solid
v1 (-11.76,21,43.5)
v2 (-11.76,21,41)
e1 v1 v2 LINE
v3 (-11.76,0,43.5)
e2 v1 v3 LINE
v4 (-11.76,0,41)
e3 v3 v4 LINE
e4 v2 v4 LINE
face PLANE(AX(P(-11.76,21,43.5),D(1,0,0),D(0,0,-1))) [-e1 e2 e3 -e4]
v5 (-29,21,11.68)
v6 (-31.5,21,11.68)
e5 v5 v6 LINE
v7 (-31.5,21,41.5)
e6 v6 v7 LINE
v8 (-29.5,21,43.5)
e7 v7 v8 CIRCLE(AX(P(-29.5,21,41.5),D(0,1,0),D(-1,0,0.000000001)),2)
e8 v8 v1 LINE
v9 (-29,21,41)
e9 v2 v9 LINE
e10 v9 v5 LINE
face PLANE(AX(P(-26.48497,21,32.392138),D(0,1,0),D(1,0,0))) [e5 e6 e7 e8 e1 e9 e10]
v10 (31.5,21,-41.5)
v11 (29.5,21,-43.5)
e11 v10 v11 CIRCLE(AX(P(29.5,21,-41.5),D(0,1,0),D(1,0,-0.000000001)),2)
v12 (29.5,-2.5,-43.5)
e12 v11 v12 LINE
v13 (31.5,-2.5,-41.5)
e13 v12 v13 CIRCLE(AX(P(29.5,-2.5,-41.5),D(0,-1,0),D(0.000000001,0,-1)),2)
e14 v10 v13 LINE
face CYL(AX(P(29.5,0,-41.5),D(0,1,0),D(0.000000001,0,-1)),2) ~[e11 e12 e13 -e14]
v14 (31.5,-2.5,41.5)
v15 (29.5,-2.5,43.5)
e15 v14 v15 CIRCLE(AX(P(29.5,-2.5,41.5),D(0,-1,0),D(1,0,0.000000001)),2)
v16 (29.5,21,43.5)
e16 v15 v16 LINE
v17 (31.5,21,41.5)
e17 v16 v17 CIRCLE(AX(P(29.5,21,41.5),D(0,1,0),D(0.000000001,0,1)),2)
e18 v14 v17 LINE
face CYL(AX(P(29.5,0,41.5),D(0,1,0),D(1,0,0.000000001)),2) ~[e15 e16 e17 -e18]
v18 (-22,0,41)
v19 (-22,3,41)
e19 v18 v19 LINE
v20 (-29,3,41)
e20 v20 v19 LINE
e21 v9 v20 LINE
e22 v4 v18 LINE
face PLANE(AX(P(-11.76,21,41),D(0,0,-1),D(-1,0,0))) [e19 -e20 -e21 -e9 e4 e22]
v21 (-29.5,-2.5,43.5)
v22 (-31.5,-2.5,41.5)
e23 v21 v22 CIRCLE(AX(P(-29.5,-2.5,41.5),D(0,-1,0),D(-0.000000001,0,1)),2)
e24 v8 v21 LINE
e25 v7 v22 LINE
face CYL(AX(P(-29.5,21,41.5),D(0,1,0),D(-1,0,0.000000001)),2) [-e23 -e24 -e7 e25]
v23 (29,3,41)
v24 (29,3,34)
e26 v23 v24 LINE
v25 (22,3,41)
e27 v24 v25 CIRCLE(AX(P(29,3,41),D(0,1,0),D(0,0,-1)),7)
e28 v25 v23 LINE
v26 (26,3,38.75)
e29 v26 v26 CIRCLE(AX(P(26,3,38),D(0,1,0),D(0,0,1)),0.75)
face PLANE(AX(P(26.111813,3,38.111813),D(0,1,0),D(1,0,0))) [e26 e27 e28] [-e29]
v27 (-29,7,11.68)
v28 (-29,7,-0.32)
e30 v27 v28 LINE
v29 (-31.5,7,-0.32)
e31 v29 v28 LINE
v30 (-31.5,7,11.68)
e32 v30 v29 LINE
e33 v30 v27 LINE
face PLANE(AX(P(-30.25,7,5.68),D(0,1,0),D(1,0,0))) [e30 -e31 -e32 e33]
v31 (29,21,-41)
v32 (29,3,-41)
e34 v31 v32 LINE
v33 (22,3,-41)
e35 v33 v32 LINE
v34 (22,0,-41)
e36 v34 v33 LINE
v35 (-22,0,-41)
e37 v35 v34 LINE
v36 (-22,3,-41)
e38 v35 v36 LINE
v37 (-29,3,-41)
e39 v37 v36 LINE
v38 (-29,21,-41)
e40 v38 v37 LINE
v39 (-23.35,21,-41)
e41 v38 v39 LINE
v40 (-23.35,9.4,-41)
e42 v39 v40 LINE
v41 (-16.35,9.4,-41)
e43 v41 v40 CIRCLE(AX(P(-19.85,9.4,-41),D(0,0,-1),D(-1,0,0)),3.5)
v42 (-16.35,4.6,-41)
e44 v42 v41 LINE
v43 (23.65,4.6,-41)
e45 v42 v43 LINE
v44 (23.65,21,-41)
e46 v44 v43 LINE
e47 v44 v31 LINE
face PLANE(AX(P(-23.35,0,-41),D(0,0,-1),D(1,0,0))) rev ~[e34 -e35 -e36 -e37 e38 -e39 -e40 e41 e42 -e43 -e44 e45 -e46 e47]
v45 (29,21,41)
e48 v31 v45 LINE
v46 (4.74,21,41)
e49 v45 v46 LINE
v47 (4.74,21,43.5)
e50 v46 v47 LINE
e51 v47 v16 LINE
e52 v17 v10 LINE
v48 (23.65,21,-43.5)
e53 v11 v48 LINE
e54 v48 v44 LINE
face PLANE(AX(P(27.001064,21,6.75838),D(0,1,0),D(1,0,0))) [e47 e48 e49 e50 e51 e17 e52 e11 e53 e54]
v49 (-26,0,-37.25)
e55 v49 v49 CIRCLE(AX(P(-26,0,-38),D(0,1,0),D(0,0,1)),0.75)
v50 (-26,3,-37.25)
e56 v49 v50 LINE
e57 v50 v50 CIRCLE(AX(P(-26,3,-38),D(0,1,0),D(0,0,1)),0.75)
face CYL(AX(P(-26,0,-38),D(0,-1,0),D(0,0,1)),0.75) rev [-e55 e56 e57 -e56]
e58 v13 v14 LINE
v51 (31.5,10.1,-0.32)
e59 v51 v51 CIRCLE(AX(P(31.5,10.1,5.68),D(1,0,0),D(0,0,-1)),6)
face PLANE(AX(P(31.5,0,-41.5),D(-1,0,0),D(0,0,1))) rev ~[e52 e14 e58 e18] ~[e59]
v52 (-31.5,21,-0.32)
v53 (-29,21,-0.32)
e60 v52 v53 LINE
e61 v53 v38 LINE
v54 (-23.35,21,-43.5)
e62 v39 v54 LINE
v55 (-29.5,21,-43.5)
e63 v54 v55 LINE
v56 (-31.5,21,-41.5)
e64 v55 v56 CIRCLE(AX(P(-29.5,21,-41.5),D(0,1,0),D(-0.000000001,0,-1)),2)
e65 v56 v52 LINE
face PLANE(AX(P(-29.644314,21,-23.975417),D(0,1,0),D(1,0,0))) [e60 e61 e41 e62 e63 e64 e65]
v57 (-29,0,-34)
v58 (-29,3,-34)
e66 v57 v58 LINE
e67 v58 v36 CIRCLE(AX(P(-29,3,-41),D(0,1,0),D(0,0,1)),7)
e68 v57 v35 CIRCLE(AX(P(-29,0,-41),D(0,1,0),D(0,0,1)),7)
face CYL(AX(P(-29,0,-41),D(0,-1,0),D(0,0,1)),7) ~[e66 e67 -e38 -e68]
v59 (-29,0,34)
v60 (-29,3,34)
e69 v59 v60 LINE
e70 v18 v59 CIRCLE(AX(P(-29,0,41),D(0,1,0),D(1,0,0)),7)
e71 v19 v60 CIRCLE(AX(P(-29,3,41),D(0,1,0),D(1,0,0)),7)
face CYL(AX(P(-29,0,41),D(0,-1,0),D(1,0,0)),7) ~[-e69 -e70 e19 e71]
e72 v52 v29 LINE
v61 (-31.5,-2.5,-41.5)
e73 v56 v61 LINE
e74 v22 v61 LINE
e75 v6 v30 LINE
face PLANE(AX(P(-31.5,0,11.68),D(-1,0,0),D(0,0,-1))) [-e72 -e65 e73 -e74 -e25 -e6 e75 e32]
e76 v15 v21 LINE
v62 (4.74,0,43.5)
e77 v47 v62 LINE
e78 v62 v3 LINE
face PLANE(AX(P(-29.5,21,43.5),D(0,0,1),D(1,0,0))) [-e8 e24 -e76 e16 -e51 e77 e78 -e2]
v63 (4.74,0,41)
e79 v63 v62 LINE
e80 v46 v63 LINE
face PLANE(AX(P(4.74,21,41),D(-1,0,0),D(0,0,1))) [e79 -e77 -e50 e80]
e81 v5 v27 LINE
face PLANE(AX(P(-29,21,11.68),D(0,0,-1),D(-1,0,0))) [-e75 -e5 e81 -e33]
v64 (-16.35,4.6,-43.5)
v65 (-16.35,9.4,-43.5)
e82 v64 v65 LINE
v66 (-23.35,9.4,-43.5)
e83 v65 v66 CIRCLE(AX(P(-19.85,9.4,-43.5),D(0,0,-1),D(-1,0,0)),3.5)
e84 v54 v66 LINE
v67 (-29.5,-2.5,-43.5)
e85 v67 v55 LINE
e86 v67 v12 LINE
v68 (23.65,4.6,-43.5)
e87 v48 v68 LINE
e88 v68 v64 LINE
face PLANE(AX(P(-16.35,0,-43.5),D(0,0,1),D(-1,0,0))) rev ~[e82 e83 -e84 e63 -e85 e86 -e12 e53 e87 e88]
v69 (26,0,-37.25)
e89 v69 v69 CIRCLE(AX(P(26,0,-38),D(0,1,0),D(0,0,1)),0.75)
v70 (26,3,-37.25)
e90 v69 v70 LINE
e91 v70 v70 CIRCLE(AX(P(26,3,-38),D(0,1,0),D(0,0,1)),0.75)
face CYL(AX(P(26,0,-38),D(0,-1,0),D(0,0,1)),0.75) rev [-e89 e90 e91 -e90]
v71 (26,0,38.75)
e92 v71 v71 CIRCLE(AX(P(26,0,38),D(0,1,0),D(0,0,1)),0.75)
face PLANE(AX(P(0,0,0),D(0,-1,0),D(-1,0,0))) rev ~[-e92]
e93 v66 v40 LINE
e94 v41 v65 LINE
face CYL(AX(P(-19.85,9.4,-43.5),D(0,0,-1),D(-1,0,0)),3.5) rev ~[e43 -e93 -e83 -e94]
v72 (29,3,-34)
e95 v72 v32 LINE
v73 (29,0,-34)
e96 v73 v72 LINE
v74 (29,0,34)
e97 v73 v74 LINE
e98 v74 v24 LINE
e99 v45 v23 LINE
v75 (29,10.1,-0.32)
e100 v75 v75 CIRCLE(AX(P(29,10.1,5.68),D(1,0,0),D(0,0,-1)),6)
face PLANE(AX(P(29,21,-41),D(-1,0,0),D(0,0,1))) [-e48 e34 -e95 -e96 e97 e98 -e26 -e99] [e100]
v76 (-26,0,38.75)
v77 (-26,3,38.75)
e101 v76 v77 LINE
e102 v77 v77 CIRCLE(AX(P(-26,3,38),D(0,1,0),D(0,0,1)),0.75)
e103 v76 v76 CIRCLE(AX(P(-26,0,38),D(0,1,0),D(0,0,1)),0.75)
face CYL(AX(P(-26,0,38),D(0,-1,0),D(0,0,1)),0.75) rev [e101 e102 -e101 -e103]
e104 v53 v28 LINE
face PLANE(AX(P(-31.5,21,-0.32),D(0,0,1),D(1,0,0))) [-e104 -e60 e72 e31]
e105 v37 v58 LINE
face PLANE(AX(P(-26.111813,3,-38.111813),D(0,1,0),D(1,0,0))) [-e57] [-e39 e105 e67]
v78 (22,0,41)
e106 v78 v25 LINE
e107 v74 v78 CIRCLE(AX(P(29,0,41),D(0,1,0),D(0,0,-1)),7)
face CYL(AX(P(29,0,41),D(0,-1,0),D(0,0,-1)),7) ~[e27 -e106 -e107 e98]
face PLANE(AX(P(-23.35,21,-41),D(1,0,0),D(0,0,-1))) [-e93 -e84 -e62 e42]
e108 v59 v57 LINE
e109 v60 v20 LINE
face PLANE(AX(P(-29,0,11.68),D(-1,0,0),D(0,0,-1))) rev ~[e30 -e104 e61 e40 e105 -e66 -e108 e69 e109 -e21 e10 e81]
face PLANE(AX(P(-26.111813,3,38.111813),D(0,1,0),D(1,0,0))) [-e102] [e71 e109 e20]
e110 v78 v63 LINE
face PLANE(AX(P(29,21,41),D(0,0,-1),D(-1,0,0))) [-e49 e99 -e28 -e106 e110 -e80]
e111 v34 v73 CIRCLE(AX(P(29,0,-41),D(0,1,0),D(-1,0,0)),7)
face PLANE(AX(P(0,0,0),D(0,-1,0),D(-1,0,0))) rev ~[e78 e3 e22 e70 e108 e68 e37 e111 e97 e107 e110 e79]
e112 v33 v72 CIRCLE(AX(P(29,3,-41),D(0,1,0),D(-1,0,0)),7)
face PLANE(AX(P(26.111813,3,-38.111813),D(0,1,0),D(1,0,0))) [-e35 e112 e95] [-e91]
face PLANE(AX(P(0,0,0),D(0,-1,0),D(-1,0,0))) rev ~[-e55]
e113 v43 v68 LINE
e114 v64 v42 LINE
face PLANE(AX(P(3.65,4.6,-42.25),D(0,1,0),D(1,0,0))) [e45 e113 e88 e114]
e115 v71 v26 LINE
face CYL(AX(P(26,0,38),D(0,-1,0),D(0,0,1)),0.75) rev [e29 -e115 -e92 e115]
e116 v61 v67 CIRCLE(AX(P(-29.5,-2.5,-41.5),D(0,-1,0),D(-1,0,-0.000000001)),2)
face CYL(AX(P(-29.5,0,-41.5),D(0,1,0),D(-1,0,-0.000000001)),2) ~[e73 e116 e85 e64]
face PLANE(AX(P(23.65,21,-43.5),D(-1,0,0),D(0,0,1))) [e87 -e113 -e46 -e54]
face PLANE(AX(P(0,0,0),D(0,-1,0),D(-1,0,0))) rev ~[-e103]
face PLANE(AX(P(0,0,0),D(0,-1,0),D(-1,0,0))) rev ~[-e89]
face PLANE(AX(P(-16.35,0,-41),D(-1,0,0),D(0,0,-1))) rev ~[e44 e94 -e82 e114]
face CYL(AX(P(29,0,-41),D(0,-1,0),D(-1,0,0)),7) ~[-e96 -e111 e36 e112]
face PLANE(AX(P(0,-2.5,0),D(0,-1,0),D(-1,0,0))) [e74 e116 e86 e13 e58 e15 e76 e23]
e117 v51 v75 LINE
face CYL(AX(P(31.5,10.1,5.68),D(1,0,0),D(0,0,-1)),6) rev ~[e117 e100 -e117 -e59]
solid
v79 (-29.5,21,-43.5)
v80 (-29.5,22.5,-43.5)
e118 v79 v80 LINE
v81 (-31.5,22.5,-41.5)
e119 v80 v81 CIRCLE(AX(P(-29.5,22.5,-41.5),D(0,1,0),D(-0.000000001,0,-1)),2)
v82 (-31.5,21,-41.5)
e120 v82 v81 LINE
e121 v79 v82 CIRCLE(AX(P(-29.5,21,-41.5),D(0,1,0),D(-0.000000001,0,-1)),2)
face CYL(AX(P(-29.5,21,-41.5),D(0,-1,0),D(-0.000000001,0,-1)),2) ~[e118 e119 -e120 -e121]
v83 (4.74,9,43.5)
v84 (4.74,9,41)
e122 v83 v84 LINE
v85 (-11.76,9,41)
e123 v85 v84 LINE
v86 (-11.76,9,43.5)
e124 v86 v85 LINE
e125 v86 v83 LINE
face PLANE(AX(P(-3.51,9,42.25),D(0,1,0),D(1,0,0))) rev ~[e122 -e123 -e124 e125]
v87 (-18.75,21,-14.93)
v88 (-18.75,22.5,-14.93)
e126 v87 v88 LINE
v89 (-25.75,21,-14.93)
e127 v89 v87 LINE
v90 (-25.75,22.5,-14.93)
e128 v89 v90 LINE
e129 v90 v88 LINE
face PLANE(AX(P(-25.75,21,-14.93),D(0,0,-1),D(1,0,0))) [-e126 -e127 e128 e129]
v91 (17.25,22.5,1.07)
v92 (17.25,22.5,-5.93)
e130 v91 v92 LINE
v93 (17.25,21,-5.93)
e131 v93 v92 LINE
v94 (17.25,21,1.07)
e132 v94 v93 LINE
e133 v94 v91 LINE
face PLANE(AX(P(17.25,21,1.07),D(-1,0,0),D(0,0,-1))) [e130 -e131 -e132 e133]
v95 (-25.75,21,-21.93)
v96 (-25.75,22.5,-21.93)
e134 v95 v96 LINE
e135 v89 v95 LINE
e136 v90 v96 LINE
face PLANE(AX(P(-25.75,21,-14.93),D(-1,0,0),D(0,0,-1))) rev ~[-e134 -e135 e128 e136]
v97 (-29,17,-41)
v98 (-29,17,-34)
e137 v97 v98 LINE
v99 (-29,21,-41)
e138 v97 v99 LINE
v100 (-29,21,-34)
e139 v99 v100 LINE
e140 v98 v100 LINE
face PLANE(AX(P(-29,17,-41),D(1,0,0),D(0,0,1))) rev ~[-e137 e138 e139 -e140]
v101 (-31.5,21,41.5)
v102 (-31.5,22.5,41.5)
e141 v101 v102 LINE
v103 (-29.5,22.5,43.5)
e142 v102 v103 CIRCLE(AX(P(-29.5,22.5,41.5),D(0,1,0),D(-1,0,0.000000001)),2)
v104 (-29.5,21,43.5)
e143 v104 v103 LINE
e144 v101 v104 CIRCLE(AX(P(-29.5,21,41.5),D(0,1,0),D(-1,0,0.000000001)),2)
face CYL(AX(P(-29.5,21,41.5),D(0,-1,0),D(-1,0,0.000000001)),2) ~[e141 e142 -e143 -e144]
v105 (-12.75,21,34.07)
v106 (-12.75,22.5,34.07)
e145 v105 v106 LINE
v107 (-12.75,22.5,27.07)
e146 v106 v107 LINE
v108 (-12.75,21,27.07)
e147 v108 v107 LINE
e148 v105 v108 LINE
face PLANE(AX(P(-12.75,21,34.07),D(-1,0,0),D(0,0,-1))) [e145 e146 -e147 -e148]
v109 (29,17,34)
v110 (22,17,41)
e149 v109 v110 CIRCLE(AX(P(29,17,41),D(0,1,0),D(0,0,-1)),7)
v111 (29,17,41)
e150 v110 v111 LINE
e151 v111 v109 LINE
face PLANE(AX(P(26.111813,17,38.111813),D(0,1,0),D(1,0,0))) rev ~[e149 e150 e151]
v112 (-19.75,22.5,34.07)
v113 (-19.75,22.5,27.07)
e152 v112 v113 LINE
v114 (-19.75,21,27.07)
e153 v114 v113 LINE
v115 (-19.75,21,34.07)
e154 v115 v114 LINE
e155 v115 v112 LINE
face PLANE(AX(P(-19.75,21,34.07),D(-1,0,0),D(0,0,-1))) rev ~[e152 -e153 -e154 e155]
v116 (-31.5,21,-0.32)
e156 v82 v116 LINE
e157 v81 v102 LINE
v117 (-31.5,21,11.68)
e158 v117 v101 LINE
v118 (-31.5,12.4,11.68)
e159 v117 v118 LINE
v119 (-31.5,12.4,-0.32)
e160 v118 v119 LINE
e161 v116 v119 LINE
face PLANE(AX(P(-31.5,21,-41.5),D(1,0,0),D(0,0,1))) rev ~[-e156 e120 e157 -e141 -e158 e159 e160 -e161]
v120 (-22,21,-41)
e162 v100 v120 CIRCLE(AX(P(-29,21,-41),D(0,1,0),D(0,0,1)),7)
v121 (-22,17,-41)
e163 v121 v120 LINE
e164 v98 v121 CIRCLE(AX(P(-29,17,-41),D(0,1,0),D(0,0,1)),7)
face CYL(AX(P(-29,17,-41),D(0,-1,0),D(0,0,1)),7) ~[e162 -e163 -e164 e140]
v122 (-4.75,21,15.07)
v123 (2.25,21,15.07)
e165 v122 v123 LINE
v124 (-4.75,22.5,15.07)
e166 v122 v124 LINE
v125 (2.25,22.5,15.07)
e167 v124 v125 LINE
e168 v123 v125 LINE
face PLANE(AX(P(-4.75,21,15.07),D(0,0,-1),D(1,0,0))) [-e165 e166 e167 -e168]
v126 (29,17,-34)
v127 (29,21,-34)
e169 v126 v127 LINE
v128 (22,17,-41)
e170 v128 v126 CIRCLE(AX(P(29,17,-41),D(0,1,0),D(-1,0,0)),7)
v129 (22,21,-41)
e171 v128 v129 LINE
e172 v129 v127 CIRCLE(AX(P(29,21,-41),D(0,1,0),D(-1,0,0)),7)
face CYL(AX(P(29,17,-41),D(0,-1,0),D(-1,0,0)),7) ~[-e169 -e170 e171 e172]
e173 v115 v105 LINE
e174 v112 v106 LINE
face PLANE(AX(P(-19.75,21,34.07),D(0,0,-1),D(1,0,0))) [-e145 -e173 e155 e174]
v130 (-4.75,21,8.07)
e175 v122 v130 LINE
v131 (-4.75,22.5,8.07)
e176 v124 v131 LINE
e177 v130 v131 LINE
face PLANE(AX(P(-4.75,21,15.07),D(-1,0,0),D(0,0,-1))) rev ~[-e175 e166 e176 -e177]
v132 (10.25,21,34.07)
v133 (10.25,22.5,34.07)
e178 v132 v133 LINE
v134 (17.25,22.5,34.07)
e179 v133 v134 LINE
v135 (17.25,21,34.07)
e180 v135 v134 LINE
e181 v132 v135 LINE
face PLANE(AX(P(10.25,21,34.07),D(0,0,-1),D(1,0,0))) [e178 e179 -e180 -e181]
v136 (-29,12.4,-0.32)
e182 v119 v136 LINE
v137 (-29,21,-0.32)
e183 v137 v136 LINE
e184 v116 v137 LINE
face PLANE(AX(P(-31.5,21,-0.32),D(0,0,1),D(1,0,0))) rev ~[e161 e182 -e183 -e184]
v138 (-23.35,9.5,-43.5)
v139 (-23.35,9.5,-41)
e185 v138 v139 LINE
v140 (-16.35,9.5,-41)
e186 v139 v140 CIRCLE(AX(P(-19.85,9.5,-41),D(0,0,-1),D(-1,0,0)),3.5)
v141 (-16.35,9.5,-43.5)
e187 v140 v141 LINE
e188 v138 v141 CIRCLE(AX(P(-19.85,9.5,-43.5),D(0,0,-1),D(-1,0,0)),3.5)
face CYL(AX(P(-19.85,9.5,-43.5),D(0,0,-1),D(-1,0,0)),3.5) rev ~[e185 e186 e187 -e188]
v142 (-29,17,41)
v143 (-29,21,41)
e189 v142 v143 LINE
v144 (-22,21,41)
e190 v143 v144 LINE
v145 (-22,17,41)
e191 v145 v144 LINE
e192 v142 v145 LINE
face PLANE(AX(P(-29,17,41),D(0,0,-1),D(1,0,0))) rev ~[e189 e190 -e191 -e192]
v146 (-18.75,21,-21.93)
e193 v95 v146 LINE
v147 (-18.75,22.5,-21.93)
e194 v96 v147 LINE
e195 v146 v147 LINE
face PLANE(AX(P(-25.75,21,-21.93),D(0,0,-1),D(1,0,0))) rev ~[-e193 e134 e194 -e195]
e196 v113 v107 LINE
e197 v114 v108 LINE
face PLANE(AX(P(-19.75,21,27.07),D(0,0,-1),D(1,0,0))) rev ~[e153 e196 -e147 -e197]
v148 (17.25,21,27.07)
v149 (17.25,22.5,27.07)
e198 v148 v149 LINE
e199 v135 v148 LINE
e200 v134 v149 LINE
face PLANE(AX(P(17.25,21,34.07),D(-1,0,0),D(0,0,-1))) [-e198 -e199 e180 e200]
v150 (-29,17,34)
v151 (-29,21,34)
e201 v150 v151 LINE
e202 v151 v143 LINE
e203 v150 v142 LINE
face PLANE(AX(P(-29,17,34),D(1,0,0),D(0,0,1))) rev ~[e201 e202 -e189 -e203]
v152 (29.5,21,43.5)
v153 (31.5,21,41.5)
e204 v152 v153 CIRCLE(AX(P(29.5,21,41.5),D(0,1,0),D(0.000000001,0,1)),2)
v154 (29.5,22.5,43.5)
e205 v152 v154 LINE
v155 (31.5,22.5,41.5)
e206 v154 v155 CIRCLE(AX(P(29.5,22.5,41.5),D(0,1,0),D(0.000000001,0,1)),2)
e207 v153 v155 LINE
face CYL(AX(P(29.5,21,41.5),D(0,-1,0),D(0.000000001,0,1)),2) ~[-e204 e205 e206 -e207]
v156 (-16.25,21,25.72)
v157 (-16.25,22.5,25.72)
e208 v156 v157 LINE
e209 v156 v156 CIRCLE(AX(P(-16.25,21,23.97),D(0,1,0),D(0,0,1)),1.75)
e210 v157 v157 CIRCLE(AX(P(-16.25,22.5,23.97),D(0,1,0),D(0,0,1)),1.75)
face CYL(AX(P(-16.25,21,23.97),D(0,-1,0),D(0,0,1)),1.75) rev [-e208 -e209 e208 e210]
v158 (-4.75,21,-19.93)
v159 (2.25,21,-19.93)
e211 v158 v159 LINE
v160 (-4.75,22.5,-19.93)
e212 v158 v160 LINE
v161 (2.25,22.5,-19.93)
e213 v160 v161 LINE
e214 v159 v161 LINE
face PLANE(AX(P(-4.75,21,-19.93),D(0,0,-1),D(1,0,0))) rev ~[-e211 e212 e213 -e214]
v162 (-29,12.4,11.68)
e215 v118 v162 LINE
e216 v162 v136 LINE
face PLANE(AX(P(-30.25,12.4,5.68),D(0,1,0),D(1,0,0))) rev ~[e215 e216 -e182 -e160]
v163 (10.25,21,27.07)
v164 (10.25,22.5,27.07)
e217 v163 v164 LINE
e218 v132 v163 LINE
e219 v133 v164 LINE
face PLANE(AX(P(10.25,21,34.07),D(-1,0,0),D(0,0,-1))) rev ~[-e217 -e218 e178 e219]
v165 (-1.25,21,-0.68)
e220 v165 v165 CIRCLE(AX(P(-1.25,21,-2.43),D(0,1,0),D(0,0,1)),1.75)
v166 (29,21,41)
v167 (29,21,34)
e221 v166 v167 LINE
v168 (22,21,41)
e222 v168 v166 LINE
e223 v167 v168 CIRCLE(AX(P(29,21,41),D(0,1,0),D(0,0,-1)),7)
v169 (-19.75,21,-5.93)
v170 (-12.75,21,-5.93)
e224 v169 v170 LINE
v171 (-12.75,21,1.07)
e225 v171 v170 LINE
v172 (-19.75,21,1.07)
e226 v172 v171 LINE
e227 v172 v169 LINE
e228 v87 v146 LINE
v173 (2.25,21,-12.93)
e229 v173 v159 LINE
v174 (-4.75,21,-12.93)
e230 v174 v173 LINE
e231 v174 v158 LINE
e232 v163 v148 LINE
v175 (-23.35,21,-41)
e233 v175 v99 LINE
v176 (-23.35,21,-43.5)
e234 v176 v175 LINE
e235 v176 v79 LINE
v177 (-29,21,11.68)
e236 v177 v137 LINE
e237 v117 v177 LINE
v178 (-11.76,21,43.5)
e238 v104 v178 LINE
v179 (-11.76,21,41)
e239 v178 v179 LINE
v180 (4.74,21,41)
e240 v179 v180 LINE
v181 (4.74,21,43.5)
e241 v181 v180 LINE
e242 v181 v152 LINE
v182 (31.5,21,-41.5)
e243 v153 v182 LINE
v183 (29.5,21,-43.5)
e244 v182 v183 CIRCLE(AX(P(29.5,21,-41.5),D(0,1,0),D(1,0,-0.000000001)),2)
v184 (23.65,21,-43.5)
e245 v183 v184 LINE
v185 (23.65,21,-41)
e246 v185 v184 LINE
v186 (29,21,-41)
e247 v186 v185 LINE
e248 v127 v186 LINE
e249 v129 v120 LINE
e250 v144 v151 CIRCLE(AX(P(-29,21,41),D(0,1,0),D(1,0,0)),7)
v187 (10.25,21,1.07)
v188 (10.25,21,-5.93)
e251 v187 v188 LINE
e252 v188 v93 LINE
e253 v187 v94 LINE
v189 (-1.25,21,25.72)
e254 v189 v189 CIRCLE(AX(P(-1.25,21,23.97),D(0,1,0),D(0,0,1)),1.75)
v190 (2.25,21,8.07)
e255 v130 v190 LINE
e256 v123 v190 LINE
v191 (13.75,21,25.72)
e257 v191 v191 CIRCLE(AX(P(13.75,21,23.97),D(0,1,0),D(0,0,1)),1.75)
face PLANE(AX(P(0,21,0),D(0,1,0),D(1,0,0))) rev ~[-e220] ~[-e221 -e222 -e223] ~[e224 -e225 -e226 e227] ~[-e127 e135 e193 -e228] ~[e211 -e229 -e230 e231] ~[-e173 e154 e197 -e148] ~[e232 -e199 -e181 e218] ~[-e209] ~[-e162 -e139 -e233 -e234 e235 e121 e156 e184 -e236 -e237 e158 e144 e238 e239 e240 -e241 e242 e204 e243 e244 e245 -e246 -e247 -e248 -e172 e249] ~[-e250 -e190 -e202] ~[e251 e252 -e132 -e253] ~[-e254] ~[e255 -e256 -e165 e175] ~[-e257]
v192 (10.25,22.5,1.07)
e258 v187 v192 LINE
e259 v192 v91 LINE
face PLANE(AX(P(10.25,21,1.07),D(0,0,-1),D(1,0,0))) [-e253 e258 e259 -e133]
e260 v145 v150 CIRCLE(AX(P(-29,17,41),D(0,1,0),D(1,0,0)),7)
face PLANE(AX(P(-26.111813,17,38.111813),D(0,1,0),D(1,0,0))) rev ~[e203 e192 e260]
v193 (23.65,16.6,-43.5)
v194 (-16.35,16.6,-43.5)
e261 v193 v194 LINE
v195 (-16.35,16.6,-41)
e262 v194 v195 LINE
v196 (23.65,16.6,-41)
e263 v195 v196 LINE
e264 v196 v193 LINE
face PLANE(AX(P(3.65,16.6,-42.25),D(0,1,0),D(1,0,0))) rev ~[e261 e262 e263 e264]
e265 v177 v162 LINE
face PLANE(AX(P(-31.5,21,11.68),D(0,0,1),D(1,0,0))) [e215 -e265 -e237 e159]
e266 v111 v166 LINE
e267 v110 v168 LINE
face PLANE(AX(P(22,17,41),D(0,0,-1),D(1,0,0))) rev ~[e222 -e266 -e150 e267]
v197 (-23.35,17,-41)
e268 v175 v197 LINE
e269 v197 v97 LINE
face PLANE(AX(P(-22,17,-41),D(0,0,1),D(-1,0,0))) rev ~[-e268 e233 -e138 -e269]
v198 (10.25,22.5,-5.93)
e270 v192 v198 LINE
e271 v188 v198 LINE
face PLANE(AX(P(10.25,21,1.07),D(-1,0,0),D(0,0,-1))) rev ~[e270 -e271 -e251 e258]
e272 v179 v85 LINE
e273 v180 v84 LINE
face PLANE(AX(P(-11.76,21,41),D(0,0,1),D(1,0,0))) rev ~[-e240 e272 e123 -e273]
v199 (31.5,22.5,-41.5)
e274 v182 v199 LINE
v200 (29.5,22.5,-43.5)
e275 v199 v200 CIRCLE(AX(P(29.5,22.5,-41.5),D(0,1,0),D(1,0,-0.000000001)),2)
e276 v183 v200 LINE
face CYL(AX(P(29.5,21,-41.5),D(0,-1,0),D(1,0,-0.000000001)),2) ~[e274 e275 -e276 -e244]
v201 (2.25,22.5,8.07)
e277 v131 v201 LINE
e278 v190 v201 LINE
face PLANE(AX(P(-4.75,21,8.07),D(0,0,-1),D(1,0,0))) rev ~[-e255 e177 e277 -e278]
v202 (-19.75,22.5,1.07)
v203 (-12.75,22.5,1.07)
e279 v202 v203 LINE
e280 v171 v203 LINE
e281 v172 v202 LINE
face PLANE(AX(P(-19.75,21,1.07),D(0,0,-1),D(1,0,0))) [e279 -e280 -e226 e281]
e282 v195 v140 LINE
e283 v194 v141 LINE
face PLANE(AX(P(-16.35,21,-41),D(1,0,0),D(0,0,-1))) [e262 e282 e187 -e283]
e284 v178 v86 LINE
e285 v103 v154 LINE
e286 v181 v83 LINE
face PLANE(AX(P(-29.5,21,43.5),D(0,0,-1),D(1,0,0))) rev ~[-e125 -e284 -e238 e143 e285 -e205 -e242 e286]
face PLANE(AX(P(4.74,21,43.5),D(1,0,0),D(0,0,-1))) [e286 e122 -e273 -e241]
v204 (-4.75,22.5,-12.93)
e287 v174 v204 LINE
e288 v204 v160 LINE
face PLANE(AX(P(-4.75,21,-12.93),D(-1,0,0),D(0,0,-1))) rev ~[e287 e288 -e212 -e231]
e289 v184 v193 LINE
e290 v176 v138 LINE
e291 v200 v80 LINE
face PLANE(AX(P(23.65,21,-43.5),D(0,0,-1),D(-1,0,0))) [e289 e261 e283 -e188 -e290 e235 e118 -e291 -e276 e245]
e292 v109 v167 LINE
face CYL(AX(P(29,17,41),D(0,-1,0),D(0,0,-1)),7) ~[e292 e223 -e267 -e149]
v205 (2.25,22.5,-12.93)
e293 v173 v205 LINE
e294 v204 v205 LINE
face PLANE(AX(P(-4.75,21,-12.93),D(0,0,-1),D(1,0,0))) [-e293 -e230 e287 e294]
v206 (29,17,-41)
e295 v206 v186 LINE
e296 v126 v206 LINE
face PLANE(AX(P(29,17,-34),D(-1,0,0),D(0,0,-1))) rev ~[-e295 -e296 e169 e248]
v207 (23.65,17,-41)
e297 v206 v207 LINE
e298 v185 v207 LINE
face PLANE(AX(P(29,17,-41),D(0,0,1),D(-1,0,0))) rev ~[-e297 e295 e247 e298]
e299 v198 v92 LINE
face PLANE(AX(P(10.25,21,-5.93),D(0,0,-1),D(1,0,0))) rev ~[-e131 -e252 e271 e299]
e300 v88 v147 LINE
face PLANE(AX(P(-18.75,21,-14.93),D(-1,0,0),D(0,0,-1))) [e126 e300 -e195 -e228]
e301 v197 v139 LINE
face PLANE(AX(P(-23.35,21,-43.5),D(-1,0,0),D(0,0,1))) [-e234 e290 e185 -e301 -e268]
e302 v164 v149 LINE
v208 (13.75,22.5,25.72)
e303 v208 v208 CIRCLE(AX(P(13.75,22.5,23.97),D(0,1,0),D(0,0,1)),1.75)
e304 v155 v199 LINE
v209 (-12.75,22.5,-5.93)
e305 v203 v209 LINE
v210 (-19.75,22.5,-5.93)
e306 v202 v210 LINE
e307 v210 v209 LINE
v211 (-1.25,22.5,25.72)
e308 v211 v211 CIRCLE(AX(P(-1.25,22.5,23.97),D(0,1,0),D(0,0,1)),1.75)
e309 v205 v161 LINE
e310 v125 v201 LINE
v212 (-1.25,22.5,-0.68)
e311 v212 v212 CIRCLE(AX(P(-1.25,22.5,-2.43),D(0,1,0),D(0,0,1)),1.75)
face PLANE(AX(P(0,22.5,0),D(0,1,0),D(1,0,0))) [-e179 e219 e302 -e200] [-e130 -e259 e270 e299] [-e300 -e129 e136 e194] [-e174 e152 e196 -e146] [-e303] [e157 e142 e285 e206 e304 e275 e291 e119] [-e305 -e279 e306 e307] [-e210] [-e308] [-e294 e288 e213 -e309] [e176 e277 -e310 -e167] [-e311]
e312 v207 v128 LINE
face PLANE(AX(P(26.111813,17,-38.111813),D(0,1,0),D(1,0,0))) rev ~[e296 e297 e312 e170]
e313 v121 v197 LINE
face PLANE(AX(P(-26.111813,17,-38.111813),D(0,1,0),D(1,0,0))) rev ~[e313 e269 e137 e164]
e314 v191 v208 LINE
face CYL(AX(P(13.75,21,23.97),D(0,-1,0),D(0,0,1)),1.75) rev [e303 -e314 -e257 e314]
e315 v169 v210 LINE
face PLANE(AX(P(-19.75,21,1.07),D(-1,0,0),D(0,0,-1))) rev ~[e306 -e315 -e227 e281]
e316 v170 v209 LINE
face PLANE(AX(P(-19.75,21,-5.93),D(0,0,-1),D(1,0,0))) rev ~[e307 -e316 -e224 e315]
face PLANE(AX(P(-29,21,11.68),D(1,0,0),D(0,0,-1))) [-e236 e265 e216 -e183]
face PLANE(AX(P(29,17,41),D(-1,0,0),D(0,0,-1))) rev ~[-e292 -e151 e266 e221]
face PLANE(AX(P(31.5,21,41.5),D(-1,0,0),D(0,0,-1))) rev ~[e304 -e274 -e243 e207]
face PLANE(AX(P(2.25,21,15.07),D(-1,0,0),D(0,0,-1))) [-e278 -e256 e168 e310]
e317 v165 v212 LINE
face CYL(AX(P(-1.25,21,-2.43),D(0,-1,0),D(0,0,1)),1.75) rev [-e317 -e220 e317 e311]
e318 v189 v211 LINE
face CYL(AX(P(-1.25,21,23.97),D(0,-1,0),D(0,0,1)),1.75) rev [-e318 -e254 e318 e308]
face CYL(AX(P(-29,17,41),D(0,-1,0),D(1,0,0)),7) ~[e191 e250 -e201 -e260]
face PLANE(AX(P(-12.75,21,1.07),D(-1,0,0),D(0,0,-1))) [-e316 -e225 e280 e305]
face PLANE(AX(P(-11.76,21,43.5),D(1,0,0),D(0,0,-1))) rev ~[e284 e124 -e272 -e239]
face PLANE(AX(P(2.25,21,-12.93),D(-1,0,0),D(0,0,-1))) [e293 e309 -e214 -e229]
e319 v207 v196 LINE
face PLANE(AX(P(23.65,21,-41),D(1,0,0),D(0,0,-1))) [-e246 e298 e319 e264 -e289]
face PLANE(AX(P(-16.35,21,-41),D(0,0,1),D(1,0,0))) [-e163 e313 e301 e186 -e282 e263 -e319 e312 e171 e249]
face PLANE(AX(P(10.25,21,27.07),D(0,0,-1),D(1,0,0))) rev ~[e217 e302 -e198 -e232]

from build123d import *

# Parameters (mm, degrees)
EXTRUDE_1_DEPTH     = 2.5
SKETCH_1_4_R        = 0.75
EXTRUDE_2_DEPTH     = 3
EXTRUDE_4_DEPTH     = 4.6
EXTRUDE_START       = 21
EXTRUDE_5_DEPTH     = 21
EXTRUDE_6_DEPTH     = 9.4
CUT_EXTRUDE_1_REACH = 96.88
SKETCH_2_R          = 3.5
CUT_EXTRUDE_2_REACH = 81.387
SKETCH_3_R          = 6
SKETCH_1_8_W        = 2.5
SKETCH_1_8_H        = 12
EXTRUDE_11_DEPTH    = 7
SKETCH_4_W          = 7
SKETCH_4_H          = 7
SKETCH_4_R          = 1.75
EXTRUDE_7_DEPTH     = 1.5
SKETCH_4_4_W        = 16.5
SKETCH_4_4_H        = 2.5
EXTRUDE_8_DEPTH     = 12
EXTRUDE_9_DEPTH     = 11.5
SKETCH_5_R          = 3.5
CUT_EXTRUDE_3_DEPTH = 2.5
EXTRUDE_10_DEPTH    = 4.4
SKETCH_4_7_W        = 2.5
SKETCH_4_7_H        = 12
EXTRUDE_12_DEPTH    = 8.6
EXTRUDE_START_2     = -4
SKETCH_4_8_R        = 0.75
EXTRUDE_13_DEPTH    = 4


with BuildPart() as part:
    # 草图1 → 凸台-拉伸1 (new body)
    with BuildSketch(Plane(origin=(0, 0, 0), x_dir=(1, 0, 0), z_dir=(0, 1, 0))):
        with BuildLine():
            Line((-29.5, 43.5), (29.5, 43.5))
            ThreePointArc((29.5, 43.5), (30.914213562, 42.914213562), (31.5, 41.5))
            Line((31.5, 41.5), (31.5, -41.5))
            ThreePointArc((31.5, -41.5), (30.914213562, -42.914213562), (29.5, -43.5))
            Line((29.5, -43.5), (-29.5, -43.5))
            ThreePointArc((-29.5, -43.5), (-30.914213562, -42.914213562), (-31.5, -41.5))
            Line((-31.5, -41.5), (-31.5, 41.5))
            ThreePointArc((-31.5, 41.5), (-30.914213562, 42.914213562), (-29.5, 43.5))
        make_face()
    extrude(amount=-EXTRUDE_1_DEPTH)

    # 草图1<4> → 凸台-拉伸2 (add)
    # profile 1 of 4: a face of its own
    with BuildSketch(Plane(origin=(0, 0, 0), x_dir=(1, 0, 0), z_dir=(0, 1, 0))):
        with BuildLine():
            Line((-29, 41), (-29, 34))
            ThreePointArc((-29, 34), (-24.050252532, 36.050252532), (-22, 41))
            Line((-22, 41), (-23.35, 41))
            Line((-23.35, 41), (-29, 41))
        make_face()
        with Locations(Location((-26, 38, 0), (0, 0, 270))):
            Circle(SKETCH_1_4_R, mode=Mode.SUBTRACT)
    # profile 2 of 4: a face of its own
    with BuildSketch(Plane(origin=(0, 0, 0), x_dir=(1, 0, 0), z_dir=(0, 1, 0))):
        with BuildLine():
            ThreePointArc((22, 41), (24.050252532, 36.050252532), (29, 34))
            Line((29, 34), (29, 41))
            Line((29, 41), (23.65, 41))
            Line((23.65, 41), (22, 41))
        make_face()
        with Locations(Location((26, 38, 0), (0, 0, 270))):
            Circle(SKETCH_1_4_R, mode=Mode.SUBTRACT)
    # profile 3 of 4: a face of its own
    with BuildSketch(Plane(origin=(0, 0, 0), x_dir=(1, 0, 0), z_dir=(0, 1, 0))):
        with BuildLine():
            ThreePointArc((29, -34), (24.050252532, -36.050252532), (22, -41))
            Line((22, -41), (29, -41))
            Line((29, -41), (29, -34))
        make_face()
        with Locations(Location((26, -38, 0), (0, 0, 270))):
            Circle(SKETCH_1_4_R, mode=Mode.SUBTRACT)
    # profile 4 of 4: a face of its own
    with BuildSketch(Plane(origin=(0, 0, 0), x_dir=(1, 0, 0), z_dir=(0, 1, 0))):
        with BuildLine():
            Line((-29, -41), (-22, -41))
            ThreePointArc((-22, -41), (-24.050252532, -36.050252532), (-29, -34))
            Line((-29, -34), (-29, -41))
        make_face()
        with Locations(Location((-26, -38, 0), (0, 0, 270))):
            Circle(SKETCH_1_4_R, mode=Mode.SUBTRACT)
    extrude(amount=EXTRUDE_2_DEPTH)



with BuildPart() as body_2:
    # 草图1<5> → 凸台-拉伸4 (new body)
    with BuildSketch(Plane(origin=(0, 0, 0), x_dir=(1, 0, 0), z_dir=(0, 1, 0))):
        Polygon((-16.35, 41), (22, 41), (23.65, 41), (23.65, 43.5), (-16.35, 43.5), align=None)
    extrude(amount=EXTRUDE_4_DEPTH)


with BuildPart() as part_1:
    add(part.part)

    add(body_2.part)  # 凸台-拉伸5 merges body 2
    # 草图1<6> → 凸台-拉伸5 (add)
    with BuildSketch(Plane(origin=(0, 0, 0), x_dir=(1, 0, 0), z_dir=(0, 1, 0)).offset(EXTRUDE_START)):
        with BuildLine():
            Line((-11.76, -43.5), (-11.76, -41))
            Line((-11.76, -41), (-29, -41))
            Line((-29, -41), (-29, -11.68))
            Line((-29, -11.68), (-31.5, -11.68))
            Line((-31.5, -11.68), (-31.5, -41.5))
            ThreePointArc((-31.5, -41.5), (-30.914213562, -42.914213562), (-29.5, -43.5))
            Line((-29.5, -43.5), (-11.76, -43.5))
        make_face()
        with BuildLine():
            Line((29, -41), (4.74, -41))
            Line((4.74, -41), (4.74, -43.5))
            Line((4.74, -43.5), (29.5, -43.5))
            ThreePointArc((29.5, -43.5), (30.914213562, -42.914213562), (31.5, -41.5))
            Line((31.5, -41.5), (31.5, 41.5))
            ThreePointArc((31.5, 41.5), (30.914213562, 42.914213562), (29.5, 43.5))
            Line((29.5, 43.5), (23.65, 43.5))
            Line((23.65, 43.5), (23.65, 41))
            Line((23.65, 41), (29, 41))
            Line((29, 41), (29, -41))
        make_face()
        with BuildLine():
            Line((-31.5, 0.32), (-29, 0.32))
            Line((-29, 0.32), (-29, 41))
            Line((-29, 41), (-23.35, 41))
            Line((-23.35, 41), (-23.35, 43.5))
            Line((-23.35, 43.5), (-29.5, 43.5))
            ThreePointArc((-29.5, 43.5), (-30.914213562, 42.914213562), (-31.5, 41.5))
            Line((-31.5, 41.5), (-31.5, 0.32))
        make_face()
    extrude(amount=-EXTRUDE_5_DEPTH)

    # 草图1<7> → 凸台-拉伸6 (add)
    with BuildSketch(Plane(origin=(0, 0, 0), x_dir=(1, 0, 0), z_dir=(0, 1, 0))):
        Polygon((-23.35, 41), (-22, 41), (-16.35, 41), (-16.35, 43.5), (-23.35, 43.5), align=None)
    extrude(amount=EXTRUDE_6_DEPTH)

    # 草图2 → 切除-拉伸1 (cut, up to next)
    with BuildSketch(Plane(origin=(0, 0, -43.5), x_dir=(-1, 0, 0), z_dir=(0, 0, -1)), mode=Mode.PRIVATE) as cut_extrude_1_sk1:
        with Locations((19.85, 9.4)):
            Circle(SKETCH_2_R)
    cut_extrude_1_tool1 = extrude(cut_extrude_1_sk1.sketch, amount=-CUT_EXTRUDE_1_REACH, mode=Mode.PRIVATE) & part_1.part
    add(cut_extrude_1_tool1.solids().sort_by_distance((-19.85, 9.4, -43.5))[0], mode=Mode.SUBTRACT)

    # 草图3 → 切除-拉伸2 (cut, up to next)
    with BuildSketch(Plane(origin=(31.5, 0, 0), x_dir=(0, 0, -1), z_dir=(1, 0, 0)), mode=Mode.PRIVATE) as cut_extrude_2_sk1:
        with Locations((-5.68, 10.1)):
            Circle(SKETCH_3_R)
    cut_extrude_2_tool1 = extrude(cut_extrude_2_sk1.sketch, amount=-CUT_EXTRUDE_2_REACH, mode=Mode.PRIVATE) & part_1.part
    add(cut_extrude_2_tool1.solids().sort_by_distance((31.5, 10.1, 5.68))[0], mode=Mode.SUBTRACT)

    # 草图1<8> → 凸台-拉伸11 (add)
    with BuildSketch(Plane(origin=(0, 0, 0), x_dir=(1, 0, 0), z_dir=(0, 1, 0))):
        with Locations((-30.25, -5.68)):
            Rectangle(SKETCH_1_8_W, SKETCH_1_8_H)
    extrude(amount=EXTRUDE_11_DEPTH)


with BuildPart() as body_2_2:
    # 草图4 → 凸台-拉伸7 (new body)
    with BuildSketch(Plane(origin=(0, 21, 0), x_dir=(1, 0, 0), z_dir=(0, 1, 0))):
        with BuildLine():
            ThreePointArc((-31.5, -41.5), (-30.914213562, -42.914213562), (-29.5, -43.5))
            Line((-29.5, -43.5), (29.5, -43.5))
            ThreePointArc((29.5, -43.5), (30.914213562, -42.914213562), (31.5, -41.5))
            Line((31.5, -41.5), (31.5, 41.5))
            ThreePointArc((31.5, 41.5), (30.914213562, 42.914213562), (29.5, 43.5))
            Line((29.5, 43.5), (-29.5, 43.5))
            ThreePointArc((-29.5, 43.5), (-30.914213562, 42.914213562), (-31.5, 41.5))
            Line((-31.5, 41.5), (-31.5, -41.5))
        make_face()
        with Locations((13.75, 2.43)):
            Rectangle(SKETCH_4_W, SKETCH_4_H, mode=Mode.SUBTRACT)
        with Locations((-16.25, -30.57)):
            Rectangle(SKETCH_4_W, SKETCH_4_H, mode=Mode.SUBTRACT)
        with Locations(Location((-16.25, -23.97, 0), (0, 0, 270))):
            Circle(SKETCH_4_R, mode=Mode.SUBTRACT)
        with Locations(Location((-1.25, -23.97, 0), (0, 0, 270))):
            Circle(SKETCH_4_R, mode=Mode.SUBTRACT)
        with Locations((-1.25, -11.57)):
            Rectangle(SKETCH_4_W, SKETCH_4_H, mode=Mode.SUBTRACT)
        with Locations((13.75, -30.57)):
            Rectangle(SKETCH_4_W, SKETCH_4_H, mode=Mode.SUBTRACT)
        with Locations(Location((13.75, -23.97, 0), (0, 0, 270))):
            Circle(SKETCH_4_R, mode=Mode.SUBTRACT)
        with Locations((-16.25, 2.43)):
            Rectangle(SKETCH_4_W, SKETCH_4_H, mode=Mode.SUBTRACT)
        with Locations((-22.25, 18.43)):
            Rectangle(SKETCH_4_W, SKETCH_4_H, mode=Mode.SUBTRACT)
        with Locations(Location((-1.25, 2.43, 0), (0, 0, 270))):
            Circle(SKETCH_4_R, mode=Mode.SUBTRACT)
        with Locations((-1.25, 16.43)):
            Rectangle(SKETCH_4_W, SKETCH_4_H, mode=Mode.SUBTRACT)
    extrude(amount=EXTRUDE_7_DEPTH)

    # 草图4<4> → 凸台-拉伸8 (add)
    with BuildSketch(Plane(origin=(0, 21, 0), x_dir=(1, 0, 0), z_dir=(0, 1, 0))):
        with Locations((-3.51, -42.25)):
            Rectangle(SKETCH_4_4_W, SKETCH_4_4_H)
    extrude(amount=-EXTRUDE_8_DEPTH)

    # 草图4<5> → 凸台-拉伸9 (add)
    with BuildSketch(Plane(origin=(0, 21, 0), x_dir=(1, 0, 0), z_dir=(0, 1, 0))):
        Polygon((-23.35, 41), (-22, 41), (-16.35, 41), (-16.35, 43.5), (-23.35, 43.5), align=None)
    extrude(amount=-EXTRUDE_9_DEPTH)

    # 草图5 → 切除-拉伸3 (cut)
    with BuildSketch(Plane(origin=(0, 0, -43.5), x_dir=(-1, 0, 0), z_dir=(0, 0, -1))):
        with Locations((19.85, 9.5)):
            Circle(SKETCH_5_R)
    extrude(amount=-CUT_EXTRUDE_3_DEPTH, mode=Mode.SUBTRACT)

    # 草图4<6> → 凸台-拉伸10 (add)
    with BuildSketch(Plane(origin=(0, 21, 0), x_dir=(1, 0, 0), z_dir=(0, 1, 0))):
        Polygon((-16.35, 41), (22, 41), (23.65, 41), (23.65, 43.5), (-16.35, 43.5), align=None)
    extrude(amount=-EXTRUDE_10_DEPTH)

    # 草图4<7> → 凸台-拉伸12 (add)
    with BuildSketch(Plane(origin=(0, 21, 0), x_dir=(1, 0, 0), z_dir=(0, 1, 0))):
        with Locations((-30.25, -5.68)):
            Rectangle(SKETCH_4_7_W, SKETCH_4_7_H)
    extrude(amount=-EXTRUDE_12_DEPTH)

    # 草图4<8> → 凸台-拉伸13 (add)
    # profile 1 of 8: a face of its own
    with BuildSketch(Plane(origin=(0, 21, 0), x_dir=(1, 0, 0), z_dir=(0, 1, 0)).offset(EXTRUDE_START_2)):
        with BuildLine():
            Line((-29, 41), (-29, 34))
            ThreePointArc((-29, 34), (-24.050252532, 36.050252532), (-22, 41))
            Line((-22, 41), (-23.35, 41))
            Line((-23.35, 41), (-29, 41))
        make_face()
        with Locations(Location((-26, 38, 0), (0, 0, 270))):
            Circle(SKETCH_4_8_R, mode=Mode.SUBTRACT)
    # profile 2 of 8: a face of its own
    with BuildSketch(Plane(origin=(0, 21, 0), x_dir=(1, 0, 0), z_dir=(0, 1, 0)).offset(EXTRUDE_START_2)):
        with BuildLine():
            ThreePointArc((22, 41), (24.050252532, 36.050252532), (29, 34))
            Line((29, 34), (29, 41))
            Line((29, 41), (23.65, 41))
            Line((23.65, 41), (22, 41))
        make_face()
        with Locations(Location((26, 38, 0), (0, 0, 270))):
            Circle(SKETCH_4_8_R, mode=Mode.SUBTRACT)
    # profile 3 of 8: a face of its own
    with BuildSketch(Plane(origin=(0, 21, 0), x_dir=(1, 0, 0), z_dir=(0, 1, 0)).offset(EXTRUDE_START_2)):
        with BuildLine():
            ThreePointArc((29, -34), (24.050252532, -36.050252532), (22, -41))
            Line((22, -41), (29, -41))
            Line((29, -41), (29, -34))
        make_face()
        with Locations(Location((26, -38, 0), (0, 0, 270))):
            Circle(SKETCH_4_8_R, mode=Mode.SUBTRACT)
    # profile 4 of 8: a face of its own
    with BuildSketch(Plane(origin=(0, 21, 0), x_dir=(1, 0, 0), z_dir=(0, 1, 0)).offset(EXTRUDE_START_2)):
        with BuildLine():
            Line((-29, -41), (-22, -41))
            ThreePointArc((-22, -41), (-24.050252532, -36.050252532), (-29, -34))
            Line((-29, -34), (-29, -41))
        make_face()
        with Locations(Location((-26, -38, 0), (0, 0, 270))):
            Circle(SKETCH_4_8_R, mode=Mode.SUBTRACT)
    # profile 5 of 8: a face of its own
    with BuildSketch(Plane(origin=(0, 21, 0), x_dir=(1, 0, 0), z_dir=(0, 1, 0)).offset(EXTRUDE_START_2)):
        with Locations(Location((-26, -38, 0), (0, 0, 270))):
            Circle(SKETCH_4_8_R)
    # profile 6 of 8: a face of its own
    with BuildSketch(Plane(origin=(0, 21, 0), x_dir=(1, 0, 0), z_dir=(0, 1, 0)).offset(EXTRUDE_START_2)):
        with Locations(Location((26, -38, 0), (0, 0, 270))):
            Circle(SKETCH_4_8_R)
    # profile 7 of 8: a face of its own
    with BuildSketch(Plane(origin=(0, 21, 0), x_dir=(1, 0, 0), z_dir=(0, 1, 0)).offset(EXTRUDE_START_2)):
        with Locations(Location((26, 38, 0), (0, 0, 270))):
            Circle(SKETCH_4_8_R)
    # profile 8 of 8: a face of its own
    with BuildSketch(Plane(origin=(0, 21, 0), x_dir=(1, 0, 0), z_dir=(0, 1, 0)).offset(EXTRUDE_START_2)):
        with Locations(Location((-26, 38, 0), (0, 0, 270))):
            Circle(SKETCH_4_8_R)
    extrude(amount=EXTRUDE_13_DEPTH)


solid = Compound([part_1.part, body_2_2.part])
